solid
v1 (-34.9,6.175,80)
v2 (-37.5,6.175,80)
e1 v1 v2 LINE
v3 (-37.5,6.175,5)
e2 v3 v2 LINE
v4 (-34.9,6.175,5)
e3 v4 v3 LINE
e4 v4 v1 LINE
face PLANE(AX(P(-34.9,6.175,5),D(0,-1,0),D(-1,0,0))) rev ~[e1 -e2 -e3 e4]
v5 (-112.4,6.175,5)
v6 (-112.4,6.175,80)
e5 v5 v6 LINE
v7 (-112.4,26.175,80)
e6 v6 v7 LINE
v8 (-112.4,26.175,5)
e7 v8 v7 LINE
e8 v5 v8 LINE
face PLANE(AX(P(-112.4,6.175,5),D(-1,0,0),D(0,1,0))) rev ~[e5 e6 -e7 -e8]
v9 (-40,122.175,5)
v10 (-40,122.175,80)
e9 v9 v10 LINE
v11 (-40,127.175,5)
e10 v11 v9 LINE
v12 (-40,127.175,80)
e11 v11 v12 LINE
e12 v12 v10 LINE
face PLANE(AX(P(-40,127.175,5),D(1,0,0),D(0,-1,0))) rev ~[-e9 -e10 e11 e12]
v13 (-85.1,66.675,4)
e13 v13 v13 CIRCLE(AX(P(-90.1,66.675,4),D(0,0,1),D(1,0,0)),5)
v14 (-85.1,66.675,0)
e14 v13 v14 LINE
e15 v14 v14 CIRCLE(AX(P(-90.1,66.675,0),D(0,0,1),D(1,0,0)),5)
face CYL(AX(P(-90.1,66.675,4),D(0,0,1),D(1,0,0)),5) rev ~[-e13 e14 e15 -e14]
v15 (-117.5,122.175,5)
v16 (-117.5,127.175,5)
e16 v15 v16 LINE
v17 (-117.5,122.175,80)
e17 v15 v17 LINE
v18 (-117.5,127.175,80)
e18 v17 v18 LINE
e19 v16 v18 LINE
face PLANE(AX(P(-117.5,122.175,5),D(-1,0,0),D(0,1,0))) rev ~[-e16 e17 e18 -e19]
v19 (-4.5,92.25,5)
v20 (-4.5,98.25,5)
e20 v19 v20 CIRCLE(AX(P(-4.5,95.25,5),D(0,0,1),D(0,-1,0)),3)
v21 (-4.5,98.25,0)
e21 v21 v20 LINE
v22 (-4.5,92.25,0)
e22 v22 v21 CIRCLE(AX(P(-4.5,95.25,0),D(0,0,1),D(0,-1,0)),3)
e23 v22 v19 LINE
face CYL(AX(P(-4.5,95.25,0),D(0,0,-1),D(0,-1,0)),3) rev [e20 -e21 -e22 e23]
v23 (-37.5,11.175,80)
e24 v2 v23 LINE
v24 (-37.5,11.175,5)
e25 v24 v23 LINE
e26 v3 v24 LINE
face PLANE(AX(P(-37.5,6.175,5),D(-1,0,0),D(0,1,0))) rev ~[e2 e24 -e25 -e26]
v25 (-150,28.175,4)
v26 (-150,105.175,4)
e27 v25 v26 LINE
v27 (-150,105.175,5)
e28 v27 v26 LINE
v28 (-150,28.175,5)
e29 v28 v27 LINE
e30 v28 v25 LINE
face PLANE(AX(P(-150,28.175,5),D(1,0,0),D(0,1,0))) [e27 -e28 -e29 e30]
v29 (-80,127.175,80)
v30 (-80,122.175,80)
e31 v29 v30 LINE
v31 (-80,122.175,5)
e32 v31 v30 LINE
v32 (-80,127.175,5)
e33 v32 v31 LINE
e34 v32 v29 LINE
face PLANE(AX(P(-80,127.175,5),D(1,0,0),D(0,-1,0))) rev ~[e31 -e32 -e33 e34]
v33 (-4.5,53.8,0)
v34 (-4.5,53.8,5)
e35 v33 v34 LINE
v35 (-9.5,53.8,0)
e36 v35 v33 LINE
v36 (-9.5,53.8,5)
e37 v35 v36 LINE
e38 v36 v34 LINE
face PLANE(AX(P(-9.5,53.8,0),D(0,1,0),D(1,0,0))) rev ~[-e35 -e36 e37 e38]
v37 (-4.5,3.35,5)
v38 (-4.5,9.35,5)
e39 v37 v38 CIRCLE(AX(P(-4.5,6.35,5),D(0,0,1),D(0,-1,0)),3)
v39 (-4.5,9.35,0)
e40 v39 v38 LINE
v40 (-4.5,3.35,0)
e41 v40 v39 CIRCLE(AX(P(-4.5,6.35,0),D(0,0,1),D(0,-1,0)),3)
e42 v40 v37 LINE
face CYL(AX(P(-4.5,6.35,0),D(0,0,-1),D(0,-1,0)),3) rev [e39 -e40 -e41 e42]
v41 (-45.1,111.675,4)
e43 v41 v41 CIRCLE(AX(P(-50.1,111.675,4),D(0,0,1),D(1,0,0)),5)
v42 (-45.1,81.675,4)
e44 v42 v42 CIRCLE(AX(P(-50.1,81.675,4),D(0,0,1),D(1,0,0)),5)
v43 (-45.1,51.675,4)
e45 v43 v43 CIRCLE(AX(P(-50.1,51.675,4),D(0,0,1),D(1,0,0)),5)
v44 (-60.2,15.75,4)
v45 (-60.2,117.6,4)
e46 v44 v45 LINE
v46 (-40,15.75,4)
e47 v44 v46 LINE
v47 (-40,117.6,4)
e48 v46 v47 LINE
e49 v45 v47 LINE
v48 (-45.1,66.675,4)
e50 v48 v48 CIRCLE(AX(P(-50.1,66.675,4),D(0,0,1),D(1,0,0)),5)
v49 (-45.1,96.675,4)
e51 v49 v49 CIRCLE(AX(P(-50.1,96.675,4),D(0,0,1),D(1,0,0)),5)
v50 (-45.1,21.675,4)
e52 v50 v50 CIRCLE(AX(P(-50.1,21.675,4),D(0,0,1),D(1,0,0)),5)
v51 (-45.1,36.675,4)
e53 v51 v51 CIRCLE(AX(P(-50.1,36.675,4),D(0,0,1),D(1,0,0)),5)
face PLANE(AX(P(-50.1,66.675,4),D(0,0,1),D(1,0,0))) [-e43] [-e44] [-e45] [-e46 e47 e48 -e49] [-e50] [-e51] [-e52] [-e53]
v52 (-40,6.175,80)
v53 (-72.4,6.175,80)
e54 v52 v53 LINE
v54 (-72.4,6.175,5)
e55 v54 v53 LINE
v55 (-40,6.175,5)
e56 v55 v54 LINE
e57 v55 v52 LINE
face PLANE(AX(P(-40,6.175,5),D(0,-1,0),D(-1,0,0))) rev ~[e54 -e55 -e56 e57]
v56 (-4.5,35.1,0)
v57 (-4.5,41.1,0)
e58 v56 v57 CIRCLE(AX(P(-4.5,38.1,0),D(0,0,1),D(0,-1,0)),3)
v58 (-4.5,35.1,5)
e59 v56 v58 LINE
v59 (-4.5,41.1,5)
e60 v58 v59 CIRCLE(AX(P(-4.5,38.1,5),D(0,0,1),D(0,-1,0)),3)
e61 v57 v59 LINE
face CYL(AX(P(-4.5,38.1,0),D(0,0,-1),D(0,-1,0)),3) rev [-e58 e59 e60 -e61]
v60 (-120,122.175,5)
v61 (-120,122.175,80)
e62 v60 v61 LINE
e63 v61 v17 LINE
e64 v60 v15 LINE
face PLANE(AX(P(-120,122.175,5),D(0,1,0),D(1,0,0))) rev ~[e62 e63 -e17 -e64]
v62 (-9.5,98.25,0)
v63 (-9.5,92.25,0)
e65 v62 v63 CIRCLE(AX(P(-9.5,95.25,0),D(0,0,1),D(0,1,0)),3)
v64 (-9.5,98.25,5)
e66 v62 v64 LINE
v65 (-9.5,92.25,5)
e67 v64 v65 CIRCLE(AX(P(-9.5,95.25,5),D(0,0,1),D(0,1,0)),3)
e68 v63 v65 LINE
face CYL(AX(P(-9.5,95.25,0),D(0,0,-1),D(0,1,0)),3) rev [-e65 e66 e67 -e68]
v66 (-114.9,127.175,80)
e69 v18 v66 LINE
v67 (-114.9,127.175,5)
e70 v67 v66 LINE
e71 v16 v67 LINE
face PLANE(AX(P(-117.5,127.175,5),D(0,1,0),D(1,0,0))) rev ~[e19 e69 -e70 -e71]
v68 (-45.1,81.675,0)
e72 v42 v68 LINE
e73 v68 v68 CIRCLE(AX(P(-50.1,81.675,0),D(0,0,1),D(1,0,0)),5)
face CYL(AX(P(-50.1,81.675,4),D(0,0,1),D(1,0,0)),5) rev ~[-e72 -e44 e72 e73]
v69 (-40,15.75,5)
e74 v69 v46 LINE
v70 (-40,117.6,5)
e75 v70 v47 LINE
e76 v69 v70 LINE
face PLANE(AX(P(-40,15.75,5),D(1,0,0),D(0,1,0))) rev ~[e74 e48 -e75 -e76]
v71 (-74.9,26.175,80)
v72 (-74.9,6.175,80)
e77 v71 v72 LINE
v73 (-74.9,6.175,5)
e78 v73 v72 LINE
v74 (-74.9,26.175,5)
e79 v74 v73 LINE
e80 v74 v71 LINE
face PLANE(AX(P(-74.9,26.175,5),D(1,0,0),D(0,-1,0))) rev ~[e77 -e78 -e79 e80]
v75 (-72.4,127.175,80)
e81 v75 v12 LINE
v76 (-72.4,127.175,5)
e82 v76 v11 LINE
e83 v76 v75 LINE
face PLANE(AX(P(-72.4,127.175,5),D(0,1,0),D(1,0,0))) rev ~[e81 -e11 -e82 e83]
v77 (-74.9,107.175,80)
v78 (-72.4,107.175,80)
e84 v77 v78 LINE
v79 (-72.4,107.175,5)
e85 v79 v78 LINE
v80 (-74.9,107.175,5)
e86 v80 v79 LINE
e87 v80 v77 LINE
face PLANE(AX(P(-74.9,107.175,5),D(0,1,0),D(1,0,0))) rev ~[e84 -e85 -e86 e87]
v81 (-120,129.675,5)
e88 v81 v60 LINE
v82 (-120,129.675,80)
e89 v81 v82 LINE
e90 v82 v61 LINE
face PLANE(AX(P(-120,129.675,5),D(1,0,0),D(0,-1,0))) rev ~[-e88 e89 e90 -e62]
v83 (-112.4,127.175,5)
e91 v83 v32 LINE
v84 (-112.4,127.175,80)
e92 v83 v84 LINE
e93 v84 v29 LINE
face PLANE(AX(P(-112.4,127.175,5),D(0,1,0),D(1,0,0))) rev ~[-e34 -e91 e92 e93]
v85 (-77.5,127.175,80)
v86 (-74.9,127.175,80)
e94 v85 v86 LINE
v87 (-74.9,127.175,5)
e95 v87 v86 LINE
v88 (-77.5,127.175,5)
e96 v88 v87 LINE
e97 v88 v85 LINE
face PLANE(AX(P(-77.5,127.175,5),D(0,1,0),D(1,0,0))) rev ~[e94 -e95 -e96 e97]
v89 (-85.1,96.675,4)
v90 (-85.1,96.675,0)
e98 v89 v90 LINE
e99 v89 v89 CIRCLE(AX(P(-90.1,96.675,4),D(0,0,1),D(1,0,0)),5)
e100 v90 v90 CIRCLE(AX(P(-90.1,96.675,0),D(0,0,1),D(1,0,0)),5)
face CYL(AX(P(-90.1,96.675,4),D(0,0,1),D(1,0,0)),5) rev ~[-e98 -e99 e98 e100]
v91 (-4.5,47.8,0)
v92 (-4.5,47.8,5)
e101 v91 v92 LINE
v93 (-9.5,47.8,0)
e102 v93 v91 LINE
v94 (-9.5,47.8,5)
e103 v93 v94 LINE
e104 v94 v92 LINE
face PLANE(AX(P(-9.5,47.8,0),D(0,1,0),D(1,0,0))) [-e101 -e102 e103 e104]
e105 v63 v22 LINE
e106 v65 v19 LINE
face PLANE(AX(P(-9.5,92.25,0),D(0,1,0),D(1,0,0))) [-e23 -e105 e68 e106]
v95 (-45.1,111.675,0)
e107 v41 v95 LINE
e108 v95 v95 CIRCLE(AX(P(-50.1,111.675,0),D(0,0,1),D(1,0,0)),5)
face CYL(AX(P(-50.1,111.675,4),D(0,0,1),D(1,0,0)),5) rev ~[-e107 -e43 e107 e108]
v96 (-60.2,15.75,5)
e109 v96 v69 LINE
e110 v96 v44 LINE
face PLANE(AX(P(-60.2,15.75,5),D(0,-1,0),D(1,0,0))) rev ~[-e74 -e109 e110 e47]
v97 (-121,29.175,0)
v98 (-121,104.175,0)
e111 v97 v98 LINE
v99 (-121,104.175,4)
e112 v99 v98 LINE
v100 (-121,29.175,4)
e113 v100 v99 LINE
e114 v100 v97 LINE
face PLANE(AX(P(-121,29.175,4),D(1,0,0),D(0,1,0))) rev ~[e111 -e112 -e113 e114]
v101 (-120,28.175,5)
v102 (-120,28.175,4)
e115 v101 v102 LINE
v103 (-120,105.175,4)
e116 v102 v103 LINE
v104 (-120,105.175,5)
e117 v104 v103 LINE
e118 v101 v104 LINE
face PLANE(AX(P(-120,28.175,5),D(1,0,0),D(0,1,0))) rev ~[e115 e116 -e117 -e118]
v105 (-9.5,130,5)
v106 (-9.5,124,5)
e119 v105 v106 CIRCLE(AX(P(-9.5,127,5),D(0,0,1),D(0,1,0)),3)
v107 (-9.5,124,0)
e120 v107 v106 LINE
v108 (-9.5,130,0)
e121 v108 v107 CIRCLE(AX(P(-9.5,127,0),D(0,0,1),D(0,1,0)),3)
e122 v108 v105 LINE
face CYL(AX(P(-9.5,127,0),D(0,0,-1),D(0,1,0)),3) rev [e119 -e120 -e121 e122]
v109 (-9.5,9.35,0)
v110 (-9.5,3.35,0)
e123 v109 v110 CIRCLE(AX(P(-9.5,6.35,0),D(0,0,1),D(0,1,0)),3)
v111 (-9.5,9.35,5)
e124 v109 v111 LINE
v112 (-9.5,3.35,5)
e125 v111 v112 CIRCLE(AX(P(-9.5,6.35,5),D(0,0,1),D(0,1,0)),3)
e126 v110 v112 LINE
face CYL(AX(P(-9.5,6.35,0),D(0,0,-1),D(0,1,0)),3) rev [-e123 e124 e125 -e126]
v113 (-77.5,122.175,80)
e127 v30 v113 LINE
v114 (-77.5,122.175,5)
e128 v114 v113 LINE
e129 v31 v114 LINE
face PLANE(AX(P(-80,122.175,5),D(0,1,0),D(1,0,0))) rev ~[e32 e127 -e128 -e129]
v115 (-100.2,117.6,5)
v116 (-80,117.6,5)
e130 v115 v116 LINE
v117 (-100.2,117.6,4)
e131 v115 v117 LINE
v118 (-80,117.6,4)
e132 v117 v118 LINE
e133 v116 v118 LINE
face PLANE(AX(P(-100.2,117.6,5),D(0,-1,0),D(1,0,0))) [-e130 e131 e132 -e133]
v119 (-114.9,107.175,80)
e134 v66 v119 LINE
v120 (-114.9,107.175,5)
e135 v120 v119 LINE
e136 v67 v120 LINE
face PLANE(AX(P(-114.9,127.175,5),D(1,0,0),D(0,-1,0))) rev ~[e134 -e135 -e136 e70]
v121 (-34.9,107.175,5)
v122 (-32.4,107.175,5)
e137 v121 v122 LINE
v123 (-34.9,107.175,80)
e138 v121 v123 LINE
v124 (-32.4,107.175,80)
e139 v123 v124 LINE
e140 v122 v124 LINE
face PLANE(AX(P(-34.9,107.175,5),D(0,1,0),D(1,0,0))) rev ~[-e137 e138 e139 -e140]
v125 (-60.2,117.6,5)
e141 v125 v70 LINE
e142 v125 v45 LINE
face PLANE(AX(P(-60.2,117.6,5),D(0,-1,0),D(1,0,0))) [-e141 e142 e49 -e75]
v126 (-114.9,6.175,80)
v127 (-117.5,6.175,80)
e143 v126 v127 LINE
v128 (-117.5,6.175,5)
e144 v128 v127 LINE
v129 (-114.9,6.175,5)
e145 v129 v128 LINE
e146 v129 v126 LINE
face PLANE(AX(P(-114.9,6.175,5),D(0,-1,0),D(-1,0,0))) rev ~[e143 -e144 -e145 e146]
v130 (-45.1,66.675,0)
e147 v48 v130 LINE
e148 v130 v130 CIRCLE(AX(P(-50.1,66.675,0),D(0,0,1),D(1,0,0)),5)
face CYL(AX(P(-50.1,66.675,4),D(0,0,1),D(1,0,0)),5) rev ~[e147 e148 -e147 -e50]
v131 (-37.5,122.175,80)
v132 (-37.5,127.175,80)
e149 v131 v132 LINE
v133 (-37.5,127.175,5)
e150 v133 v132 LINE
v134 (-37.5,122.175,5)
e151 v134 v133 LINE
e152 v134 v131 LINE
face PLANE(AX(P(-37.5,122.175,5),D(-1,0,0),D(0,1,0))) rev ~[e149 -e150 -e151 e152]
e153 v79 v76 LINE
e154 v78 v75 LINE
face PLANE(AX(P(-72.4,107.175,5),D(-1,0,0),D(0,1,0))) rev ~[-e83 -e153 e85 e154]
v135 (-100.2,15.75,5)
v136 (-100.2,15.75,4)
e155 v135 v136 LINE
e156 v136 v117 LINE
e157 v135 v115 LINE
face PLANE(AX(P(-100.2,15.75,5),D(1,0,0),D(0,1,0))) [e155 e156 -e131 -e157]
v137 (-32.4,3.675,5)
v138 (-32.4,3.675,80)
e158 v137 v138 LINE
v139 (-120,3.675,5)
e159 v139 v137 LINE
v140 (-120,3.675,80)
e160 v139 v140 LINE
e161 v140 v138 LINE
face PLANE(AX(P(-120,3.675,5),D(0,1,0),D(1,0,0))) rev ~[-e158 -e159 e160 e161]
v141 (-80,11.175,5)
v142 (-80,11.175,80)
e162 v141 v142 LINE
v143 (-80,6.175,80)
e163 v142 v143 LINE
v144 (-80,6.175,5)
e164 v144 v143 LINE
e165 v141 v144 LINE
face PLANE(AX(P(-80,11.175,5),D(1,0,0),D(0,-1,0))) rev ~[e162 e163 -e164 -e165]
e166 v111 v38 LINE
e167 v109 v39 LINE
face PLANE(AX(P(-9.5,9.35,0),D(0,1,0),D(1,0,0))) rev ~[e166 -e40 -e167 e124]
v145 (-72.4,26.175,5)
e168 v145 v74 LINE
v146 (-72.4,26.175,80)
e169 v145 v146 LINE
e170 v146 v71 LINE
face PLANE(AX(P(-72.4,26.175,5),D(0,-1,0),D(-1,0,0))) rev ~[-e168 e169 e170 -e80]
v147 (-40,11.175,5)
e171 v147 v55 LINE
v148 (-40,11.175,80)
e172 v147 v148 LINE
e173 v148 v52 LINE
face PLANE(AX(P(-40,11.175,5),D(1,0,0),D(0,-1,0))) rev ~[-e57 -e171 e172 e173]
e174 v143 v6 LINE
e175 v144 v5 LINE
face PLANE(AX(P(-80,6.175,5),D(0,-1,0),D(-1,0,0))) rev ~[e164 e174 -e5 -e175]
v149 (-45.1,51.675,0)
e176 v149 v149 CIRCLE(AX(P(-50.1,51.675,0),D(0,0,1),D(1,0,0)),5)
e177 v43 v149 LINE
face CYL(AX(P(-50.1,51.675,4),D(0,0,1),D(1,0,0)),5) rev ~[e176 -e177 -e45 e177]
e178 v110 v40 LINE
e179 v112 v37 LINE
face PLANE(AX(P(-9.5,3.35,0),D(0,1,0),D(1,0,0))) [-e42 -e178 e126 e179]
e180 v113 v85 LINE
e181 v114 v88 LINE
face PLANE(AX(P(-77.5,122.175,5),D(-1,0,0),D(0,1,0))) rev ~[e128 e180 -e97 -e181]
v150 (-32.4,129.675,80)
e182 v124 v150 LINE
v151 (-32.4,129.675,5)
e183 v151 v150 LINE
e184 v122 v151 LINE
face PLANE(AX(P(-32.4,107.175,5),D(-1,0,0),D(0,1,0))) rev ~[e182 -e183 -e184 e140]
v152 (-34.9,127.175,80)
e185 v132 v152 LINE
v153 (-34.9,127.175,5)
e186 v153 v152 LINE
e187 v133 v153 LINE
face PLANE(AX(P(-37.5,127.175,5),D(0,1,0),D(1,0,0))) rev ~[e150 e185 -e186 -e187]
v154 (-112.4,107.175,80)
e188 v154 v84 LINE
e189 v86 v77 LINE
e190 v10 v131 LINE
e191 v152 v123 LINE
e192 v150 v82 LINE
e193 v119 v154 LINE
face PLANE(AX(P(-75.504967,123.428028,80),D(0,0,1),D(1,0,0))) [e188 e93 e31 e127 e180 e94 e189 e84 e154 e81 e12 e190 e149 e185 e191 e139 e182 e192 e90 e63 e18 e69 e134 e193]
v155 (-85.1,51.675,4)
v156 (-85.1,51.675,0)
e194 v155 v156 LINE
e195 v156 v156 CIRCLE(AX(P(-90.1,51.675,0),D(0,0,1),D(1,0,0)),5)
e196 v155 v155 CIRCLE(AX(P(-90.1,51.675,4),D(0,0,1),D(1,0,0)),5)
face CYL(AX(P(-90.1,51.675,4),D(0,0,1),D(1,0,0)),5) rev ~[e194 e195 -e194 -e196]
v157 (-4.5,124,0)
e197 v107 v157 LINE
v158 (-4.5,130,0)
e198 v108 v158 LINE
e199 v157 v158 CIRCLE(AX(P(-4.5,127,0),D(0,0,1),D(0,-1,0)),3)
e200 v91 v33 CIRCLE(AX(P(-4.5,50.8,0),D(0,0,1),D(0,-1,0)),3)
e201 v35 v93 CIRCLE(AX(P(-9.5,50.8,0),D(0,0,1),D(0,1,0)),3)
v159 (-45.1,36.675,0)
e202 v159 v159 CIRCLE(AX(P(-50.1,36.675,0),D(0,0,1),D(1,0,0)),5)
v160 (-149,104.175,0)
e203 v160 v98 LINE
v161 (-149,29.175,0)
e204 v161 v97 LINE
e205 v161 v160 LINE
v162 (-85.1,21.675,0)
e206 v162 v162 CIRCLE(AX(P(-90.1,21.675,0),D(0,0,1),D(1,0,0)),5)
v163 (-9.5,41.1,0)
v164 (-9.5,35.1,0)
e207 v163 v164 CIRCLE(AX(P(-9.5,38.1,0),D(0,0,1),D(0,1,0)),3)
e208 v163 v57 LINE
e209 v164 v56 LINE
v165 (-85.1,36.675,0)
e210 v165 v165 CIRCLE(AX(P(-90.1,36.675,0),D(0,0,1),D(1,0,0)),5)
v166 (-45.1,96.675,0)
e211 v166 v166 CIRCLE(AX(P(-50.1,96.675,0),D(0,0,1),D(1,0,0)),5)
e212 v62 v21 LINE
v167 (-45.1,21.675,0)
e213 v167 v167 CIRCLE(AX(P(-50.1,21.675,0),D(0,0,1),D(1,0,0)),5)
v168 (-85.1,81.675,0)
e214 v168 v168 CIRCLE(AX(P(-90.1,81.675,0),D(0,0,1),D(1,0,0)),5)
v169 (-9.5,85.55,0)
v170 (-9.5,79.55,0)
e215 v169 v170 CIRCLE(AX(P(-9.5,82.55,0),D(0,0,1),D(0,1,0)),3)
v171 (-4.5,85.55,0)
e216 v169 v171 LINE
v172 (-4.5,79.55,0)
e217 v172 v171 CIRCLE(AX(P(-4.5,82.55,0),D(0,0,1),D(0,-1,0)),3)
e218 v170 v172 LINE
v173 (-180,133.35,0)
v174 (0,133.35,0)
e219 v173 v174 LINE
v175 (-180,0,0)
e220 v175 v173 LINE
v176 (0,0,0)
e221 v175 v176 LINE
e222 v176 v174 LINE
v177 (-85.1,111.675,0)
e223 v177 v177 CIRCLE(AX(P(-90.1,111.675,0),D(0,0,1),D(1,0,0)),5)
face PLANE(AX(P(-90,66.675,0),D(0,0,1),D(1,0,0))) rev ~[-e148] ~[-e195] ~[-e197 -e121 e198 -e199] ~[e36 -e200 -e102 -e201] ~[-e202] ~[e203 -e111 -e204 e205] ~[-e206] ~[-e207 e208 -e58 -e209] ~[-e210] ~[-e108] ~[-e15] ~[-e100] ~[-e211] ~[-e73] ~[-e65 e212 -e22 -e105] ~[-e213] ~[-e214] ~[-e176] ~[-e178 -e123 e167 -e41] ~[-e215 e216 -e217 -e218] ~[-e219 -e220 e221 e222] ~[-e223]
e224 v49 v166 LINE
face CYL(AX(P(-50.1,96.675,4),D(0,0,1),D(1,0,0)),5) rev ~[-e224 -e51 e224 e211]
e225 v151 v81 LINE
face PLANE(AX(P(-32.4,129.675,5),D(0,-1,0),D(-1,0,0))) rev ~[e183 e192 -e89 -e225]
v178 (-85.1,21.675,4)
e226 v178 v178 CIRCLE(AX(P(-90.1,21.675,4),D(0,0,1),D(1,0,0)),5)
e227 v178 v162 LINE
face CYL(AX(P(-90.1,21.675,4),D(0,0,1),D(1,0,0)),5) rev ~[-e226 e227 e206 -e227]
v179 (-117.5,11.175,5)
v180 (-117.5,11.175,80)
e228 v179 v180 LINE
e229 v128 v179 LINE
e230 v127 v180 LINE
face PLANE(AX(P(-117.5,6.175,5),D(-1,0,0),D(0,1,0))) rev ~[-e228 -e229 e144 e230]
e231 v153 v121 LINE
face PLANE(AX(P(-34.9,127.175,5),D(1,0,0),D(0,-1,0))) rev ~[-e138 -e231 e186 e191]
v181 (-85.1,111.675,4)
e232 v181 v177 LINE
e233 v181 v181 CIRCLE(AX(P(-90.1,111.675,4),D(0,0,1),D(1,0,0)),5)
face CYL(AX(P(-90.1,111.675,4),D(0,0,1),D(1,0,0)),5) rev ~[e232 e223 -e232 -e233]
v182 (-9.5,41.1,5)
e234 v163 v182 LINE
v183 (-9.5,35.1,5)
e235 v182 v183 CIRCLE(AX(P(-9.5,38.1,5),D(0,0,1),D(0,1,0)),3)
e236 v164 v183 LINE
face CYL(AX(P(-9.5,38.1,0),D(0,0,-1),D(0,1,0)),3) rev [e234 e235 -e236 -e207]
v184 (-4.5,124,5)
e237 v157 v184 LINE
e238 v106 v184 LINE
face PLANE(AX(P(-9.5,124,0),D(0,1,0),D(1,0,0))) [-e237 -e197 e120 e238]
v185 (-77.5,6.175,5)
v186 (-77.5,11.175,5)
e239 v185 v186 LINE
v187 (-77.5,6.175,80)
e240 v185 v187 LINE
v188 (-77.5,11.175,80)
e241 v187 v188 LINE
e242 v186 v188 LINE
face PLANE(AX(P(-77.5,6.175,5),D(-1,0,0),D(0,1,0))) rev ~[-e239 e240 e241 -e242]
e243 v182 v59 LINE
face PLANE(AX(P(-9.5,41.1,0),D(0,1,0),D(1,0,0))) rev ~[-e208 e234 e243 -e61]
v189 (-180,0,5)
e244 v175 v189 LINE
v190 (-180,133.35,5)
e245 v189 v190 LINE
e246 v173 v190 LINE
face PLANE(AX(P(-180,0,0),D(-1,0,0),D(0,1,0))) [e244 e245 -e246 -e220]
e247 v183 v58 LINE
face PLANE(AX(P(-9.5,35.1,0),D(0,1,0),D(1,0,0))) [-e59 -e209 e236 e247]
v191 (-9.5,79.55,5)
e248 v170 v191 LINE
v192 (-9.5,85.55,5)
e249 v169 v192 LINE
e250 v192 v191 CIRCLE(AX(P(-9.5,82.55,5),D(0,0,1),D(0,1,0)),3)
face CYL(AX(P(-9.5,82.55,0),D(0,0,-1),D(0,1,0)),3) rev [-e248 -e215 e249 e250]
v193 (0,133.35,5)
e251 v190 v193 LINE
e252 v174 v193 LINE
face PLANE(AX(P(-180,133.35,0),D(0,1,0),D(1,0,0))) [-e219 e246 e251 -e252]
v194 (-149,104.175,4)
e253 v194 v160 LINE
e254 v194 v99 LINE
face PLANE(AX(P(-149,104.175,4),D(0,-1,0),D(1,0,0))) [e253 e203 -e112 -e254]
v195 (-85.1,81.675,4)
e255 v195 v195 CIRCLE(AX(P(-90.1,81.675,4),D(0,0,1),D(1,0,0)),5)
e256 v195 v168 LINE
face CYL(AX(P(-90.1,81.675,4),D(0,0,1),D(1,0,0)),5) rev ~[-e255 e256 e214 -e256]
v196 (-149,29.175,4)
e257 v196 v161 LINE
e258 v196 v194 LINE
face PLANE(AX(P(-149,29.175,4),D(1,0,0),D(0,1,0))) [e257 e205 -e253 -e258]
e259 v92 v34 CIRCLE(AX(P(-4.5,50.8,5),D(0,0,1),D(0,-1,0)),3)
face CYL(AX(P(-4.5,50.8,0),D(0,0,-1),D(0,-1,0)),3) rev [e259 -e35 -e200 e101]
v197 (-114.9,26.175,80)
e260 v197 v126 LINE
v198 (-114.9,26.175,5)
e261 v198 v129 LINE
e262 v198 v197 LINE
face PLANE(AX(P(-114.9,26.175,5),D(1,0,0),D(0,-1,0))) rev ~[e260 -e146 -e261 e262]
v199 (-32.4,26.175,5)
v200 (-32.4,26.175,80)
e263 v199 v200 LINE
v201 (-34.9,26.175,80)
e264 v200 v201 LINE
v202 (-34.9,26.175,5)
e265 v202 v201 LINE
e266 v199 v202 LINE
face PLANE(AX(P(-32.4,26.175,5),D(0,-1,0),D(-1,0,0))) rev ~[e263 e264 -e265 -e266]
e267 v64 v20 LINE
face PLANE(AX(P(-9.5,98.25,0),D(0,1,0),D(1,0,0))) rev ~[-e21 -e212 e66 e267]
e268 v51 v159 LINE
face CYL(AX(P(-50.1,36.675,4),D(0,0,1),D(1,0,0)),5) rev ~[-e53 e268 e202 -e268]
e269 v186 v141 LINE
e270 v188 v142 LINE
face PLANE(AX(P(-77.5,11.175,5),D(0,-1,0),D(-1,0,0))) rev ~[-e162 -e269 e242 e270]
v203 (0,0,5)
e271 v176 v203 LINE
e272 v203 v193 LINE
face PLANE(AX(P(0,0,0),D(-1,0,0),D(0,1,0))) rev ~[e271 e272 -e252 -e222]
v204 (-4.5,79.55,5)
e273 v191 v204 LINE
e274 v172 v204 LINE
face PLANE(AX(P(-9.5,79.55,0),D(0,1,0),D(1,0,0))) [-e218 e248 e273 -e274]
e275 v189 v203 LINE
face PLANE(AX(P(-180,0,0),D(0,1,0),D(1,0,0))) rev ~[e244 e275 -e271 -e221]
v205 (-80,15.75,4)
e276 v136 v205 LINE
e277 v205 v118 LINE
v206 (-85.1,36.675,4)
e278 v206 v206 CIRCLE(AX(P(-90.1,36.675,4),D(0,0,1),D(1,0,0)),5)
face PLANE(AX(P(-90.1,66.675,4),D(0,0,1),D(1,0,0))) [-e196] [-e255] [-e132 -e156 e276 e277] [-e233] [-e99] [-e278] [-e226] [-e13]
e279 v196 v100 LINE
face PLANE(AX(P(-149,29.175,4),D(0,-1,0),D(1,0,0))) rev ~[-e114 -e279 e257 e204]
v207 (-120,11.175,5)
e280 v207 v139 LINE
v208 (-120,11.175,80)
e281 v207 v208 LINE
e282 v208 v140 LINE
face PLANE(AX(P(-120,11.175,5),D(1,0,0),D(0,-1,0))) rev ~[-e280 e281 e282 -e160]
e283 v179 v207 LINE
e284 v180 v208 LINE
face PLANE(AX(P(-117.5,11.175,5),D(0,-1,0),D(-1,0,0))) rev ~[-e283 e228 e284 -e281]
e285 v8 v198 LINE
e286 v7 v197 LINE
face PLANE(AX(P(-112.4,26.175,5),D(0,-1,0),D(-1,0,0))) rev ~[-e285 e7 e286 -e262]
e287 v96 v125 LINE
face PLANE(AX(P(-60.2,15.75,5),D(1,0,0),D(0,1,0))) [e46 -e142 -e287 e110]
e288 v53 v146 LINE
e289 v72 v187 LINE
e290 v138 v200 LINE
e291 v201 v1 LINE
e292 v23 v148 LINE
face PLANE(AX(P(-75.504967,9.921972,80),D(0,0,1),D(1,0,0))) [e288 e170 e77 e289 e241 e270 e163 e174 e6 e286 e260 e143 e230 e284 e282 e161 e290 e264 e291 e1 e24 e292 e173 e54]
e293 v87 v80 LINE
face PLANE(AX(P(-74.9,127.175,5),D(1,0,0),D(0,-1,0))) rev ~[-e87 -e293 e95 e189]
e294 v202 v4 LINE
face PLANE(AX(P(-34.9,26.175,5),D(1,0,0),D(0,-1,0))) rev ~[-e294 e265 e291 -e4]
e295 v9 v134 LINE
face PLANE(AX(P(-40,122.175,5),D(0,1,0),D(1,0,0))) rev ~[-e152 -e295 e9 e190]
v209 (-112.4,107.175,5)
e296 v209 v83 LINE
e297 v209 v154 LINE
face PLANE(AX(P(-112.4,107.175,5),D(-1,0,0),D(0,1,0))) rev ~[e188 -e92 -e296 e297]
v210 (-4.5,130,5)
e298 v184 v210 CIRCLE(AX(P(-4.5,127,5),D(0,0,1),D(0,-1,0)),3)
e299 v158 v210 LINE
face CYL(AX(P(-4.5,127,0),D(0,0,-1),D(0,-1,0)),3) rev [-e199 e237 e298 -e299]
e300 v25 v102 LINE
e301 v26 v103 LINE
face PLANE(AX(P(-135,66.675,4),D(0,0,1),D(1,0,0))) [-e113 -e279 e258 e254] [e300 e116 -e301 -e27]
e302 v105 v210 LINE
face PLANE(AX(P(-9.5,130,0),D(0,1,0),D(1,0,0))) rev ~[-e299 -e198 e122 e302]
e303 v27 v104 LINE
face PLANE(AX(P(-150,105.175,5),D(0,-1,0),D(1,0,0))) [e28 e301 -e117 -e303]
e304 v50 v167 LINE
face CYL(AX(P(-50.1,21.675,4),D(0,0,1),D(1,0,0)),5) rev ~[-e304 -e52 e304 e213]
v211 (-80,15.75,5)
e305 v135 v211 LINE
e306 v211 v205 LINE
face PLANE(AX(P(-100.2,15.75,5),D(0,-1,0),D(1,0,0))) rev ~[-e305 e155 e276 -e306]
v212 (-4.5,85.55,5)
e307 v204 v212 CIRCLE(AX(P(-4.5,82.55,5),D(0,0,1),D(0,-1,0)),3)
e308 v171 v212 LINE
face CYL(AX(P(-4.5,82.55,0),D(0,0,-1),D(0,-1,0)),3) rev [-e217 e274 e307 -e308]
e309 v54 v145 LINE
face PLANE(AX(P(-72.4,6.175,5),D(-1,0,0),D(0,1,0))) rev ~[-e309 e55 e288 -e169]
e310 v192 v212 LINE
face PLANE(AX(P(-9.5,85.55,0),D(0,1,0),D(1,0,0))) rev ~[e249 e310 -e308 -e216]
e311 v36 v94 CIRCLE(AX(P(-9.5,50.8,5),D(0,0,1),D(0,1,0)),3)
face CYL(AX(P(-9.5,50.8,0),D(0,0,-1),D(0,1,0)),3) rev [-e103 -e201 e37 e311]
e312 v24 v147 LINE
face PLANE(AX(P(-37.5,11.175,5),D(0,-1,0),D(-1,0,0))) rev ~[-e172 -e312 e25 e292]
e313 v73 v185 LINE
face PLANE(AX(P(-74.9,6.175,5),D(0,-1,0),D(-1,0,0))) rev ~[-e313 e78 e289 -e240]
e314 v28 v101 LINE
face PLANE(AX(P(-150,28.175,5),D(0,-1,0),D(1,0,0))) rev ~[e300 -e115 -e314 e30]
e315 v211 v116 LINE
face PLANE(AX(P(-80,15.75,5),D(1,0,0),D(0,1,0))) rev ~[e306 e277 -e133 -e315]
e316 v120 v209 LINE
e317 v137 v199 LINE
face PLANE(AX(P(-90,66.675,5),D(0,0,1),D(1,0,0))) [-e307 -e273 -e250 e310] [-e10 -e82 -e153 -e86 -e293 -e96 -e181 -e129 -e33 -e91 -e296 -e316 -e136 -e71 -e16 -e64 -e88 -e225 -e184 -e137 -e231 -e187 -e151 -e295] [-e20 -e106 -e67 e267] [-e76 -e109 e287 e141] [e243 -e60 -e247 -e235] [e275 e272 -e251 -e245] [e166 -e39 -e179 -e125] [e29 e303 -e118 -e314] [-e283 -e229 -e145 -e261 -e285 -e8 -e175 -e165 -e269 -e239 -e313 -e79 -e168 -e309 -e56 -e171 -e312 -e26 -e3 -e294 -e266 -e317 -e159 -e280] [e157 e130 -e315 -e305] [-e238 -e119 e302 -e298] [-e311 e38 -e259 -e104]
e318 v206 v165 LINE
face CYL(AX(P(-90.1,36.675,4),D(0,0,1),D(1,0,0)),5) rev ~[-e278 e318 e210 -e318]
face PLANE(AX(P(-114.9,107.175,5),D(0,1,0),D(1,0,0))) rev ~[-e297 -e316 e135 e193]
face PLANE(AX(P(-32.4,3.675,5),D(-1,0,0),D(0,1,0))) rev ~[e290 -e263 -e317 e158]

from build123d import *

# Parameters (mm, degrees)
SKETCH_W        = 180
SKETCH_H        = 133.35
PAD_DEPTH       = 5
SKETCH001_W     = 20.2
SKETCH001_H     = 101.85
SKETCH001_W_2   = 30
SKETCH001_H_2   = 77
POCKET_DEPTH    = 1
SKETCH002_W     = 28
SKETCH002_H     = 75
POCKET001_DEPTH = 4
SKETCH003_R     = 5
POCKET002_DEPTH = 4
SKETCH004_R     = 5
POCKET003_DEPTH = 4
PAD001_DEPTH    = 75


with BuildPart() as part:
    # Sketch (on XY_Plane of Origin) → Pad (new body)
    with BuildSketch(Plane.XY):
        with Locations((-90, 66.675)):
            Rectangle(SKETCH_W, SKETCH_H)
        with BuildLine():
            ThreePointArc((-9.5, 130), (-12.5, 127), (-9.5, 124))
            Line((-9.5, 124), (-4.5, 124))
            ThreePointArc((-4.5, 124), (-1.5, 127), (-4.5, 130))
            Line((-9.5, 130), (-4.5, 130))
        make_face(mode=Mode.SUBTRACT)
        with BuildLine():
            ThreePointArc((-9.5, 98.25), (-12.5, 95.25), (-9.5, 92.25))
            Line((-9.5, 92.25), (-4.5, 92.25))
            ThreePointArc((-4.5, 92.25), (-1.5, 95.25), (-4.5, 98.25))
            Line((-9.5, 98.25), (-4.5, 98.25))
        make_face(mode=Mode.SUBTRACT)
        with BuildLine():
            ThreePointArc((-9.5, 85.55), (-12.5, 82.55), (-9.5, 79.55))
            Line((-9.5, 79.55), (-4.5, 79.55))
            ThreePointArc((-4.5, 79.55), (-1.5, 82.55), (-4.5, 85.55))
            Line((-9.5, 85.55), (-4.5, 85.55))
        make_face(mode=Mode.SUBTRACT)
        with BuildLine():
            ThreePointArc((-9.5, 53.8), (-12.5, 50.8), (-9.5, 47.8))
            Line((-9.5, 47.8), (-4.5, 47.8))
            ThreePointArc((-4.5, 47.8), (-1.5, 50.8), (-4.5, 53.8))
            Line((-9.5, 53.8), (-4.5, 53.8))
        make_face(mode=Mode.SUBTRACT)
        with BuildLine():
            ThreePointArc((-9.5, 41.1), (-12.5, 38.1), (-9.5, 35.1))
            Line((-9.5, 35.1), (-4.5, 35.1))
            ThreePointArc((-4.5, 35.1), (-1.5, 38.1), (-4.5, 41.1))
            Line((-9.5, 41.1), (-4.5, 41.1))
        make_face(mode=Mode.SUBTRACT)
        with BuildLine():
            ThreePointArc((-9.5, 9.35), (-12.5, 6.35), (-9.5, 3.35))
            Line((-9.5, 3.35), (-4.5, 3.35))
            ThreePointArc((-4.5, 3.35), (-1.5, 6.35), (-4.5, 9.35))
            Line((-9.5, 9.35), (-4.5, 9.35))
        make_face(mode=Mode.SUBTRACT)
    extrude(amount=PAD_DEPTH)

    # Sketch001 (on Face30 of Pad) → Pocket (cut)
    with BuildSketch(Plane.XY.offset(5)):
        with Locations((-50.1, 66.675)):
            Rectangle(SKETCH001_W, SKETCH001_H)
        with Locations((-90.1, 66.675)):
            Rectangle(SKETCH001_W, SKETCH001_H)
        with Locations((-135, 66.675)):
            Rectangle(SKETCH001_W_2, SKETCH001_H_2)
    extrude(amount=-POCKET_DEPTH, mode=Mode.SUBTRACT)

    # Sketch002 (on Face43 of Pocket) → Pocket001 (cut)
    with BuildSketch(Plane.XY.offset(4)):
        with Locations((-135, 66.675)):
            Rectangle(SKETCH002_W, SKETCH002_H)
    extrude(amount=-POCKET001_DEPTH, mode=Mode.SUBTRACT)

    # Sketch003 (on Face48 of Pocket001) → Pocket002 (cut)
    with BuildSketch(Plane.XY.offset(4)):
        with Locations((-90.1, 66.675)):
            Circle(SKETCH003_R)
        with Locations((-90.1, 81.675)):
            Circle(SKETCH003_R)
        with Locations((-90.1, 96.675)):
            Circle(SKETCH003_R)
        with Locations((-90.1, 111.675)):
            Circle(SKETCH003_R)
        with Locations((-90.1, 51.675)):
            Circle(SKETCH003_R)
        with Locations((-90.1, 36.675)):
            Circle(SKETCH003_R)
        with Locations((-90.1, 21.675)):
            Circle(SKETCH003_R)
    extrude(amount=-POCKET002_DEPTH, mode=Mode.SUBTRACT)

    # Sketch004 (on Face56 of Pocket002) → Pocket003 (cut)
    with BuildSketch(Plane.XY.offset(4)):
        with Locations((-50.1, 66.675)):
            Circle(SKETCH004_R)
        with Locations((-50.1, 81.675)):
            Circle(SKETCH004_R)
        with Locations((-50.1, 96.675)):
            Circle(SKETCH004_R)
        with Locations((-50.1, 111.675)):
            Circle(SKETCH004_R)
        with Locations((-50.1, 51.675)):
            Circle(SKETCH004_R)
        with Locations((-50.1, 36.675)):
            Circle(SKETCH004_R)
        with Locations((-50.1, 21.675)):
            Circle(SKETCH004_R)
    extrude(amount=-POCKET003_DEPTH, mode=Mode.SUBTRACT)

    # Sketch005 (on Face5 of Pocket003) → Pad001 (join)
    with BuildSketch(Plane.XY.offset(5)):
        Polygon((-32.4, 129.675), (-120, 129.675), (-120, 122.175), (-117.5, 122.175), (-117.5, 127.175), (-114.9, 127.175), (-114.9, 107.175), (-112.4, 107.175), (-112.4, 127.175), (-80, 127.175), (-80, 122.175), (-77.5, 122.175), (-77.5, 127.175), (-74.9, 127.175), (-74.9, 107.175), (-72.4, 107.175), (-72.4, 127.175), (-40, 127.175), (-40, 122.175), (-37.5, 122.175), (-37.5, 127.175), (-34.9, 127.175), (-34.9, 107.175), (-32.4, 107.175), align=None)
        Polygon((-32.4, 3.675), (-32.4, 26.175), (-34.9, 26.175), (-34.9, 6.175), (-37.5, 6.175), (-37.5, 11.175), (-40, 11.175), (-40, 6.175), (-72.4, 6.175), (-72.4, 26.175), (-74.9, 26.175), (-74.9, 6.175), (-77.5, 6.175), (-77.5, 11.175), (-80, 11.175), (-80, 6.175), (-112.4, 6.175), (-112.4, 26.175), (-114.9, 26.175), (-114.9, 6.175), (-117.5, 6.175), (-117.5, 11.175), (-120, 11.175), (-120, 3.675), align=None)
    extrude(amount=PAD001_DEPTH)


solid = part.part
